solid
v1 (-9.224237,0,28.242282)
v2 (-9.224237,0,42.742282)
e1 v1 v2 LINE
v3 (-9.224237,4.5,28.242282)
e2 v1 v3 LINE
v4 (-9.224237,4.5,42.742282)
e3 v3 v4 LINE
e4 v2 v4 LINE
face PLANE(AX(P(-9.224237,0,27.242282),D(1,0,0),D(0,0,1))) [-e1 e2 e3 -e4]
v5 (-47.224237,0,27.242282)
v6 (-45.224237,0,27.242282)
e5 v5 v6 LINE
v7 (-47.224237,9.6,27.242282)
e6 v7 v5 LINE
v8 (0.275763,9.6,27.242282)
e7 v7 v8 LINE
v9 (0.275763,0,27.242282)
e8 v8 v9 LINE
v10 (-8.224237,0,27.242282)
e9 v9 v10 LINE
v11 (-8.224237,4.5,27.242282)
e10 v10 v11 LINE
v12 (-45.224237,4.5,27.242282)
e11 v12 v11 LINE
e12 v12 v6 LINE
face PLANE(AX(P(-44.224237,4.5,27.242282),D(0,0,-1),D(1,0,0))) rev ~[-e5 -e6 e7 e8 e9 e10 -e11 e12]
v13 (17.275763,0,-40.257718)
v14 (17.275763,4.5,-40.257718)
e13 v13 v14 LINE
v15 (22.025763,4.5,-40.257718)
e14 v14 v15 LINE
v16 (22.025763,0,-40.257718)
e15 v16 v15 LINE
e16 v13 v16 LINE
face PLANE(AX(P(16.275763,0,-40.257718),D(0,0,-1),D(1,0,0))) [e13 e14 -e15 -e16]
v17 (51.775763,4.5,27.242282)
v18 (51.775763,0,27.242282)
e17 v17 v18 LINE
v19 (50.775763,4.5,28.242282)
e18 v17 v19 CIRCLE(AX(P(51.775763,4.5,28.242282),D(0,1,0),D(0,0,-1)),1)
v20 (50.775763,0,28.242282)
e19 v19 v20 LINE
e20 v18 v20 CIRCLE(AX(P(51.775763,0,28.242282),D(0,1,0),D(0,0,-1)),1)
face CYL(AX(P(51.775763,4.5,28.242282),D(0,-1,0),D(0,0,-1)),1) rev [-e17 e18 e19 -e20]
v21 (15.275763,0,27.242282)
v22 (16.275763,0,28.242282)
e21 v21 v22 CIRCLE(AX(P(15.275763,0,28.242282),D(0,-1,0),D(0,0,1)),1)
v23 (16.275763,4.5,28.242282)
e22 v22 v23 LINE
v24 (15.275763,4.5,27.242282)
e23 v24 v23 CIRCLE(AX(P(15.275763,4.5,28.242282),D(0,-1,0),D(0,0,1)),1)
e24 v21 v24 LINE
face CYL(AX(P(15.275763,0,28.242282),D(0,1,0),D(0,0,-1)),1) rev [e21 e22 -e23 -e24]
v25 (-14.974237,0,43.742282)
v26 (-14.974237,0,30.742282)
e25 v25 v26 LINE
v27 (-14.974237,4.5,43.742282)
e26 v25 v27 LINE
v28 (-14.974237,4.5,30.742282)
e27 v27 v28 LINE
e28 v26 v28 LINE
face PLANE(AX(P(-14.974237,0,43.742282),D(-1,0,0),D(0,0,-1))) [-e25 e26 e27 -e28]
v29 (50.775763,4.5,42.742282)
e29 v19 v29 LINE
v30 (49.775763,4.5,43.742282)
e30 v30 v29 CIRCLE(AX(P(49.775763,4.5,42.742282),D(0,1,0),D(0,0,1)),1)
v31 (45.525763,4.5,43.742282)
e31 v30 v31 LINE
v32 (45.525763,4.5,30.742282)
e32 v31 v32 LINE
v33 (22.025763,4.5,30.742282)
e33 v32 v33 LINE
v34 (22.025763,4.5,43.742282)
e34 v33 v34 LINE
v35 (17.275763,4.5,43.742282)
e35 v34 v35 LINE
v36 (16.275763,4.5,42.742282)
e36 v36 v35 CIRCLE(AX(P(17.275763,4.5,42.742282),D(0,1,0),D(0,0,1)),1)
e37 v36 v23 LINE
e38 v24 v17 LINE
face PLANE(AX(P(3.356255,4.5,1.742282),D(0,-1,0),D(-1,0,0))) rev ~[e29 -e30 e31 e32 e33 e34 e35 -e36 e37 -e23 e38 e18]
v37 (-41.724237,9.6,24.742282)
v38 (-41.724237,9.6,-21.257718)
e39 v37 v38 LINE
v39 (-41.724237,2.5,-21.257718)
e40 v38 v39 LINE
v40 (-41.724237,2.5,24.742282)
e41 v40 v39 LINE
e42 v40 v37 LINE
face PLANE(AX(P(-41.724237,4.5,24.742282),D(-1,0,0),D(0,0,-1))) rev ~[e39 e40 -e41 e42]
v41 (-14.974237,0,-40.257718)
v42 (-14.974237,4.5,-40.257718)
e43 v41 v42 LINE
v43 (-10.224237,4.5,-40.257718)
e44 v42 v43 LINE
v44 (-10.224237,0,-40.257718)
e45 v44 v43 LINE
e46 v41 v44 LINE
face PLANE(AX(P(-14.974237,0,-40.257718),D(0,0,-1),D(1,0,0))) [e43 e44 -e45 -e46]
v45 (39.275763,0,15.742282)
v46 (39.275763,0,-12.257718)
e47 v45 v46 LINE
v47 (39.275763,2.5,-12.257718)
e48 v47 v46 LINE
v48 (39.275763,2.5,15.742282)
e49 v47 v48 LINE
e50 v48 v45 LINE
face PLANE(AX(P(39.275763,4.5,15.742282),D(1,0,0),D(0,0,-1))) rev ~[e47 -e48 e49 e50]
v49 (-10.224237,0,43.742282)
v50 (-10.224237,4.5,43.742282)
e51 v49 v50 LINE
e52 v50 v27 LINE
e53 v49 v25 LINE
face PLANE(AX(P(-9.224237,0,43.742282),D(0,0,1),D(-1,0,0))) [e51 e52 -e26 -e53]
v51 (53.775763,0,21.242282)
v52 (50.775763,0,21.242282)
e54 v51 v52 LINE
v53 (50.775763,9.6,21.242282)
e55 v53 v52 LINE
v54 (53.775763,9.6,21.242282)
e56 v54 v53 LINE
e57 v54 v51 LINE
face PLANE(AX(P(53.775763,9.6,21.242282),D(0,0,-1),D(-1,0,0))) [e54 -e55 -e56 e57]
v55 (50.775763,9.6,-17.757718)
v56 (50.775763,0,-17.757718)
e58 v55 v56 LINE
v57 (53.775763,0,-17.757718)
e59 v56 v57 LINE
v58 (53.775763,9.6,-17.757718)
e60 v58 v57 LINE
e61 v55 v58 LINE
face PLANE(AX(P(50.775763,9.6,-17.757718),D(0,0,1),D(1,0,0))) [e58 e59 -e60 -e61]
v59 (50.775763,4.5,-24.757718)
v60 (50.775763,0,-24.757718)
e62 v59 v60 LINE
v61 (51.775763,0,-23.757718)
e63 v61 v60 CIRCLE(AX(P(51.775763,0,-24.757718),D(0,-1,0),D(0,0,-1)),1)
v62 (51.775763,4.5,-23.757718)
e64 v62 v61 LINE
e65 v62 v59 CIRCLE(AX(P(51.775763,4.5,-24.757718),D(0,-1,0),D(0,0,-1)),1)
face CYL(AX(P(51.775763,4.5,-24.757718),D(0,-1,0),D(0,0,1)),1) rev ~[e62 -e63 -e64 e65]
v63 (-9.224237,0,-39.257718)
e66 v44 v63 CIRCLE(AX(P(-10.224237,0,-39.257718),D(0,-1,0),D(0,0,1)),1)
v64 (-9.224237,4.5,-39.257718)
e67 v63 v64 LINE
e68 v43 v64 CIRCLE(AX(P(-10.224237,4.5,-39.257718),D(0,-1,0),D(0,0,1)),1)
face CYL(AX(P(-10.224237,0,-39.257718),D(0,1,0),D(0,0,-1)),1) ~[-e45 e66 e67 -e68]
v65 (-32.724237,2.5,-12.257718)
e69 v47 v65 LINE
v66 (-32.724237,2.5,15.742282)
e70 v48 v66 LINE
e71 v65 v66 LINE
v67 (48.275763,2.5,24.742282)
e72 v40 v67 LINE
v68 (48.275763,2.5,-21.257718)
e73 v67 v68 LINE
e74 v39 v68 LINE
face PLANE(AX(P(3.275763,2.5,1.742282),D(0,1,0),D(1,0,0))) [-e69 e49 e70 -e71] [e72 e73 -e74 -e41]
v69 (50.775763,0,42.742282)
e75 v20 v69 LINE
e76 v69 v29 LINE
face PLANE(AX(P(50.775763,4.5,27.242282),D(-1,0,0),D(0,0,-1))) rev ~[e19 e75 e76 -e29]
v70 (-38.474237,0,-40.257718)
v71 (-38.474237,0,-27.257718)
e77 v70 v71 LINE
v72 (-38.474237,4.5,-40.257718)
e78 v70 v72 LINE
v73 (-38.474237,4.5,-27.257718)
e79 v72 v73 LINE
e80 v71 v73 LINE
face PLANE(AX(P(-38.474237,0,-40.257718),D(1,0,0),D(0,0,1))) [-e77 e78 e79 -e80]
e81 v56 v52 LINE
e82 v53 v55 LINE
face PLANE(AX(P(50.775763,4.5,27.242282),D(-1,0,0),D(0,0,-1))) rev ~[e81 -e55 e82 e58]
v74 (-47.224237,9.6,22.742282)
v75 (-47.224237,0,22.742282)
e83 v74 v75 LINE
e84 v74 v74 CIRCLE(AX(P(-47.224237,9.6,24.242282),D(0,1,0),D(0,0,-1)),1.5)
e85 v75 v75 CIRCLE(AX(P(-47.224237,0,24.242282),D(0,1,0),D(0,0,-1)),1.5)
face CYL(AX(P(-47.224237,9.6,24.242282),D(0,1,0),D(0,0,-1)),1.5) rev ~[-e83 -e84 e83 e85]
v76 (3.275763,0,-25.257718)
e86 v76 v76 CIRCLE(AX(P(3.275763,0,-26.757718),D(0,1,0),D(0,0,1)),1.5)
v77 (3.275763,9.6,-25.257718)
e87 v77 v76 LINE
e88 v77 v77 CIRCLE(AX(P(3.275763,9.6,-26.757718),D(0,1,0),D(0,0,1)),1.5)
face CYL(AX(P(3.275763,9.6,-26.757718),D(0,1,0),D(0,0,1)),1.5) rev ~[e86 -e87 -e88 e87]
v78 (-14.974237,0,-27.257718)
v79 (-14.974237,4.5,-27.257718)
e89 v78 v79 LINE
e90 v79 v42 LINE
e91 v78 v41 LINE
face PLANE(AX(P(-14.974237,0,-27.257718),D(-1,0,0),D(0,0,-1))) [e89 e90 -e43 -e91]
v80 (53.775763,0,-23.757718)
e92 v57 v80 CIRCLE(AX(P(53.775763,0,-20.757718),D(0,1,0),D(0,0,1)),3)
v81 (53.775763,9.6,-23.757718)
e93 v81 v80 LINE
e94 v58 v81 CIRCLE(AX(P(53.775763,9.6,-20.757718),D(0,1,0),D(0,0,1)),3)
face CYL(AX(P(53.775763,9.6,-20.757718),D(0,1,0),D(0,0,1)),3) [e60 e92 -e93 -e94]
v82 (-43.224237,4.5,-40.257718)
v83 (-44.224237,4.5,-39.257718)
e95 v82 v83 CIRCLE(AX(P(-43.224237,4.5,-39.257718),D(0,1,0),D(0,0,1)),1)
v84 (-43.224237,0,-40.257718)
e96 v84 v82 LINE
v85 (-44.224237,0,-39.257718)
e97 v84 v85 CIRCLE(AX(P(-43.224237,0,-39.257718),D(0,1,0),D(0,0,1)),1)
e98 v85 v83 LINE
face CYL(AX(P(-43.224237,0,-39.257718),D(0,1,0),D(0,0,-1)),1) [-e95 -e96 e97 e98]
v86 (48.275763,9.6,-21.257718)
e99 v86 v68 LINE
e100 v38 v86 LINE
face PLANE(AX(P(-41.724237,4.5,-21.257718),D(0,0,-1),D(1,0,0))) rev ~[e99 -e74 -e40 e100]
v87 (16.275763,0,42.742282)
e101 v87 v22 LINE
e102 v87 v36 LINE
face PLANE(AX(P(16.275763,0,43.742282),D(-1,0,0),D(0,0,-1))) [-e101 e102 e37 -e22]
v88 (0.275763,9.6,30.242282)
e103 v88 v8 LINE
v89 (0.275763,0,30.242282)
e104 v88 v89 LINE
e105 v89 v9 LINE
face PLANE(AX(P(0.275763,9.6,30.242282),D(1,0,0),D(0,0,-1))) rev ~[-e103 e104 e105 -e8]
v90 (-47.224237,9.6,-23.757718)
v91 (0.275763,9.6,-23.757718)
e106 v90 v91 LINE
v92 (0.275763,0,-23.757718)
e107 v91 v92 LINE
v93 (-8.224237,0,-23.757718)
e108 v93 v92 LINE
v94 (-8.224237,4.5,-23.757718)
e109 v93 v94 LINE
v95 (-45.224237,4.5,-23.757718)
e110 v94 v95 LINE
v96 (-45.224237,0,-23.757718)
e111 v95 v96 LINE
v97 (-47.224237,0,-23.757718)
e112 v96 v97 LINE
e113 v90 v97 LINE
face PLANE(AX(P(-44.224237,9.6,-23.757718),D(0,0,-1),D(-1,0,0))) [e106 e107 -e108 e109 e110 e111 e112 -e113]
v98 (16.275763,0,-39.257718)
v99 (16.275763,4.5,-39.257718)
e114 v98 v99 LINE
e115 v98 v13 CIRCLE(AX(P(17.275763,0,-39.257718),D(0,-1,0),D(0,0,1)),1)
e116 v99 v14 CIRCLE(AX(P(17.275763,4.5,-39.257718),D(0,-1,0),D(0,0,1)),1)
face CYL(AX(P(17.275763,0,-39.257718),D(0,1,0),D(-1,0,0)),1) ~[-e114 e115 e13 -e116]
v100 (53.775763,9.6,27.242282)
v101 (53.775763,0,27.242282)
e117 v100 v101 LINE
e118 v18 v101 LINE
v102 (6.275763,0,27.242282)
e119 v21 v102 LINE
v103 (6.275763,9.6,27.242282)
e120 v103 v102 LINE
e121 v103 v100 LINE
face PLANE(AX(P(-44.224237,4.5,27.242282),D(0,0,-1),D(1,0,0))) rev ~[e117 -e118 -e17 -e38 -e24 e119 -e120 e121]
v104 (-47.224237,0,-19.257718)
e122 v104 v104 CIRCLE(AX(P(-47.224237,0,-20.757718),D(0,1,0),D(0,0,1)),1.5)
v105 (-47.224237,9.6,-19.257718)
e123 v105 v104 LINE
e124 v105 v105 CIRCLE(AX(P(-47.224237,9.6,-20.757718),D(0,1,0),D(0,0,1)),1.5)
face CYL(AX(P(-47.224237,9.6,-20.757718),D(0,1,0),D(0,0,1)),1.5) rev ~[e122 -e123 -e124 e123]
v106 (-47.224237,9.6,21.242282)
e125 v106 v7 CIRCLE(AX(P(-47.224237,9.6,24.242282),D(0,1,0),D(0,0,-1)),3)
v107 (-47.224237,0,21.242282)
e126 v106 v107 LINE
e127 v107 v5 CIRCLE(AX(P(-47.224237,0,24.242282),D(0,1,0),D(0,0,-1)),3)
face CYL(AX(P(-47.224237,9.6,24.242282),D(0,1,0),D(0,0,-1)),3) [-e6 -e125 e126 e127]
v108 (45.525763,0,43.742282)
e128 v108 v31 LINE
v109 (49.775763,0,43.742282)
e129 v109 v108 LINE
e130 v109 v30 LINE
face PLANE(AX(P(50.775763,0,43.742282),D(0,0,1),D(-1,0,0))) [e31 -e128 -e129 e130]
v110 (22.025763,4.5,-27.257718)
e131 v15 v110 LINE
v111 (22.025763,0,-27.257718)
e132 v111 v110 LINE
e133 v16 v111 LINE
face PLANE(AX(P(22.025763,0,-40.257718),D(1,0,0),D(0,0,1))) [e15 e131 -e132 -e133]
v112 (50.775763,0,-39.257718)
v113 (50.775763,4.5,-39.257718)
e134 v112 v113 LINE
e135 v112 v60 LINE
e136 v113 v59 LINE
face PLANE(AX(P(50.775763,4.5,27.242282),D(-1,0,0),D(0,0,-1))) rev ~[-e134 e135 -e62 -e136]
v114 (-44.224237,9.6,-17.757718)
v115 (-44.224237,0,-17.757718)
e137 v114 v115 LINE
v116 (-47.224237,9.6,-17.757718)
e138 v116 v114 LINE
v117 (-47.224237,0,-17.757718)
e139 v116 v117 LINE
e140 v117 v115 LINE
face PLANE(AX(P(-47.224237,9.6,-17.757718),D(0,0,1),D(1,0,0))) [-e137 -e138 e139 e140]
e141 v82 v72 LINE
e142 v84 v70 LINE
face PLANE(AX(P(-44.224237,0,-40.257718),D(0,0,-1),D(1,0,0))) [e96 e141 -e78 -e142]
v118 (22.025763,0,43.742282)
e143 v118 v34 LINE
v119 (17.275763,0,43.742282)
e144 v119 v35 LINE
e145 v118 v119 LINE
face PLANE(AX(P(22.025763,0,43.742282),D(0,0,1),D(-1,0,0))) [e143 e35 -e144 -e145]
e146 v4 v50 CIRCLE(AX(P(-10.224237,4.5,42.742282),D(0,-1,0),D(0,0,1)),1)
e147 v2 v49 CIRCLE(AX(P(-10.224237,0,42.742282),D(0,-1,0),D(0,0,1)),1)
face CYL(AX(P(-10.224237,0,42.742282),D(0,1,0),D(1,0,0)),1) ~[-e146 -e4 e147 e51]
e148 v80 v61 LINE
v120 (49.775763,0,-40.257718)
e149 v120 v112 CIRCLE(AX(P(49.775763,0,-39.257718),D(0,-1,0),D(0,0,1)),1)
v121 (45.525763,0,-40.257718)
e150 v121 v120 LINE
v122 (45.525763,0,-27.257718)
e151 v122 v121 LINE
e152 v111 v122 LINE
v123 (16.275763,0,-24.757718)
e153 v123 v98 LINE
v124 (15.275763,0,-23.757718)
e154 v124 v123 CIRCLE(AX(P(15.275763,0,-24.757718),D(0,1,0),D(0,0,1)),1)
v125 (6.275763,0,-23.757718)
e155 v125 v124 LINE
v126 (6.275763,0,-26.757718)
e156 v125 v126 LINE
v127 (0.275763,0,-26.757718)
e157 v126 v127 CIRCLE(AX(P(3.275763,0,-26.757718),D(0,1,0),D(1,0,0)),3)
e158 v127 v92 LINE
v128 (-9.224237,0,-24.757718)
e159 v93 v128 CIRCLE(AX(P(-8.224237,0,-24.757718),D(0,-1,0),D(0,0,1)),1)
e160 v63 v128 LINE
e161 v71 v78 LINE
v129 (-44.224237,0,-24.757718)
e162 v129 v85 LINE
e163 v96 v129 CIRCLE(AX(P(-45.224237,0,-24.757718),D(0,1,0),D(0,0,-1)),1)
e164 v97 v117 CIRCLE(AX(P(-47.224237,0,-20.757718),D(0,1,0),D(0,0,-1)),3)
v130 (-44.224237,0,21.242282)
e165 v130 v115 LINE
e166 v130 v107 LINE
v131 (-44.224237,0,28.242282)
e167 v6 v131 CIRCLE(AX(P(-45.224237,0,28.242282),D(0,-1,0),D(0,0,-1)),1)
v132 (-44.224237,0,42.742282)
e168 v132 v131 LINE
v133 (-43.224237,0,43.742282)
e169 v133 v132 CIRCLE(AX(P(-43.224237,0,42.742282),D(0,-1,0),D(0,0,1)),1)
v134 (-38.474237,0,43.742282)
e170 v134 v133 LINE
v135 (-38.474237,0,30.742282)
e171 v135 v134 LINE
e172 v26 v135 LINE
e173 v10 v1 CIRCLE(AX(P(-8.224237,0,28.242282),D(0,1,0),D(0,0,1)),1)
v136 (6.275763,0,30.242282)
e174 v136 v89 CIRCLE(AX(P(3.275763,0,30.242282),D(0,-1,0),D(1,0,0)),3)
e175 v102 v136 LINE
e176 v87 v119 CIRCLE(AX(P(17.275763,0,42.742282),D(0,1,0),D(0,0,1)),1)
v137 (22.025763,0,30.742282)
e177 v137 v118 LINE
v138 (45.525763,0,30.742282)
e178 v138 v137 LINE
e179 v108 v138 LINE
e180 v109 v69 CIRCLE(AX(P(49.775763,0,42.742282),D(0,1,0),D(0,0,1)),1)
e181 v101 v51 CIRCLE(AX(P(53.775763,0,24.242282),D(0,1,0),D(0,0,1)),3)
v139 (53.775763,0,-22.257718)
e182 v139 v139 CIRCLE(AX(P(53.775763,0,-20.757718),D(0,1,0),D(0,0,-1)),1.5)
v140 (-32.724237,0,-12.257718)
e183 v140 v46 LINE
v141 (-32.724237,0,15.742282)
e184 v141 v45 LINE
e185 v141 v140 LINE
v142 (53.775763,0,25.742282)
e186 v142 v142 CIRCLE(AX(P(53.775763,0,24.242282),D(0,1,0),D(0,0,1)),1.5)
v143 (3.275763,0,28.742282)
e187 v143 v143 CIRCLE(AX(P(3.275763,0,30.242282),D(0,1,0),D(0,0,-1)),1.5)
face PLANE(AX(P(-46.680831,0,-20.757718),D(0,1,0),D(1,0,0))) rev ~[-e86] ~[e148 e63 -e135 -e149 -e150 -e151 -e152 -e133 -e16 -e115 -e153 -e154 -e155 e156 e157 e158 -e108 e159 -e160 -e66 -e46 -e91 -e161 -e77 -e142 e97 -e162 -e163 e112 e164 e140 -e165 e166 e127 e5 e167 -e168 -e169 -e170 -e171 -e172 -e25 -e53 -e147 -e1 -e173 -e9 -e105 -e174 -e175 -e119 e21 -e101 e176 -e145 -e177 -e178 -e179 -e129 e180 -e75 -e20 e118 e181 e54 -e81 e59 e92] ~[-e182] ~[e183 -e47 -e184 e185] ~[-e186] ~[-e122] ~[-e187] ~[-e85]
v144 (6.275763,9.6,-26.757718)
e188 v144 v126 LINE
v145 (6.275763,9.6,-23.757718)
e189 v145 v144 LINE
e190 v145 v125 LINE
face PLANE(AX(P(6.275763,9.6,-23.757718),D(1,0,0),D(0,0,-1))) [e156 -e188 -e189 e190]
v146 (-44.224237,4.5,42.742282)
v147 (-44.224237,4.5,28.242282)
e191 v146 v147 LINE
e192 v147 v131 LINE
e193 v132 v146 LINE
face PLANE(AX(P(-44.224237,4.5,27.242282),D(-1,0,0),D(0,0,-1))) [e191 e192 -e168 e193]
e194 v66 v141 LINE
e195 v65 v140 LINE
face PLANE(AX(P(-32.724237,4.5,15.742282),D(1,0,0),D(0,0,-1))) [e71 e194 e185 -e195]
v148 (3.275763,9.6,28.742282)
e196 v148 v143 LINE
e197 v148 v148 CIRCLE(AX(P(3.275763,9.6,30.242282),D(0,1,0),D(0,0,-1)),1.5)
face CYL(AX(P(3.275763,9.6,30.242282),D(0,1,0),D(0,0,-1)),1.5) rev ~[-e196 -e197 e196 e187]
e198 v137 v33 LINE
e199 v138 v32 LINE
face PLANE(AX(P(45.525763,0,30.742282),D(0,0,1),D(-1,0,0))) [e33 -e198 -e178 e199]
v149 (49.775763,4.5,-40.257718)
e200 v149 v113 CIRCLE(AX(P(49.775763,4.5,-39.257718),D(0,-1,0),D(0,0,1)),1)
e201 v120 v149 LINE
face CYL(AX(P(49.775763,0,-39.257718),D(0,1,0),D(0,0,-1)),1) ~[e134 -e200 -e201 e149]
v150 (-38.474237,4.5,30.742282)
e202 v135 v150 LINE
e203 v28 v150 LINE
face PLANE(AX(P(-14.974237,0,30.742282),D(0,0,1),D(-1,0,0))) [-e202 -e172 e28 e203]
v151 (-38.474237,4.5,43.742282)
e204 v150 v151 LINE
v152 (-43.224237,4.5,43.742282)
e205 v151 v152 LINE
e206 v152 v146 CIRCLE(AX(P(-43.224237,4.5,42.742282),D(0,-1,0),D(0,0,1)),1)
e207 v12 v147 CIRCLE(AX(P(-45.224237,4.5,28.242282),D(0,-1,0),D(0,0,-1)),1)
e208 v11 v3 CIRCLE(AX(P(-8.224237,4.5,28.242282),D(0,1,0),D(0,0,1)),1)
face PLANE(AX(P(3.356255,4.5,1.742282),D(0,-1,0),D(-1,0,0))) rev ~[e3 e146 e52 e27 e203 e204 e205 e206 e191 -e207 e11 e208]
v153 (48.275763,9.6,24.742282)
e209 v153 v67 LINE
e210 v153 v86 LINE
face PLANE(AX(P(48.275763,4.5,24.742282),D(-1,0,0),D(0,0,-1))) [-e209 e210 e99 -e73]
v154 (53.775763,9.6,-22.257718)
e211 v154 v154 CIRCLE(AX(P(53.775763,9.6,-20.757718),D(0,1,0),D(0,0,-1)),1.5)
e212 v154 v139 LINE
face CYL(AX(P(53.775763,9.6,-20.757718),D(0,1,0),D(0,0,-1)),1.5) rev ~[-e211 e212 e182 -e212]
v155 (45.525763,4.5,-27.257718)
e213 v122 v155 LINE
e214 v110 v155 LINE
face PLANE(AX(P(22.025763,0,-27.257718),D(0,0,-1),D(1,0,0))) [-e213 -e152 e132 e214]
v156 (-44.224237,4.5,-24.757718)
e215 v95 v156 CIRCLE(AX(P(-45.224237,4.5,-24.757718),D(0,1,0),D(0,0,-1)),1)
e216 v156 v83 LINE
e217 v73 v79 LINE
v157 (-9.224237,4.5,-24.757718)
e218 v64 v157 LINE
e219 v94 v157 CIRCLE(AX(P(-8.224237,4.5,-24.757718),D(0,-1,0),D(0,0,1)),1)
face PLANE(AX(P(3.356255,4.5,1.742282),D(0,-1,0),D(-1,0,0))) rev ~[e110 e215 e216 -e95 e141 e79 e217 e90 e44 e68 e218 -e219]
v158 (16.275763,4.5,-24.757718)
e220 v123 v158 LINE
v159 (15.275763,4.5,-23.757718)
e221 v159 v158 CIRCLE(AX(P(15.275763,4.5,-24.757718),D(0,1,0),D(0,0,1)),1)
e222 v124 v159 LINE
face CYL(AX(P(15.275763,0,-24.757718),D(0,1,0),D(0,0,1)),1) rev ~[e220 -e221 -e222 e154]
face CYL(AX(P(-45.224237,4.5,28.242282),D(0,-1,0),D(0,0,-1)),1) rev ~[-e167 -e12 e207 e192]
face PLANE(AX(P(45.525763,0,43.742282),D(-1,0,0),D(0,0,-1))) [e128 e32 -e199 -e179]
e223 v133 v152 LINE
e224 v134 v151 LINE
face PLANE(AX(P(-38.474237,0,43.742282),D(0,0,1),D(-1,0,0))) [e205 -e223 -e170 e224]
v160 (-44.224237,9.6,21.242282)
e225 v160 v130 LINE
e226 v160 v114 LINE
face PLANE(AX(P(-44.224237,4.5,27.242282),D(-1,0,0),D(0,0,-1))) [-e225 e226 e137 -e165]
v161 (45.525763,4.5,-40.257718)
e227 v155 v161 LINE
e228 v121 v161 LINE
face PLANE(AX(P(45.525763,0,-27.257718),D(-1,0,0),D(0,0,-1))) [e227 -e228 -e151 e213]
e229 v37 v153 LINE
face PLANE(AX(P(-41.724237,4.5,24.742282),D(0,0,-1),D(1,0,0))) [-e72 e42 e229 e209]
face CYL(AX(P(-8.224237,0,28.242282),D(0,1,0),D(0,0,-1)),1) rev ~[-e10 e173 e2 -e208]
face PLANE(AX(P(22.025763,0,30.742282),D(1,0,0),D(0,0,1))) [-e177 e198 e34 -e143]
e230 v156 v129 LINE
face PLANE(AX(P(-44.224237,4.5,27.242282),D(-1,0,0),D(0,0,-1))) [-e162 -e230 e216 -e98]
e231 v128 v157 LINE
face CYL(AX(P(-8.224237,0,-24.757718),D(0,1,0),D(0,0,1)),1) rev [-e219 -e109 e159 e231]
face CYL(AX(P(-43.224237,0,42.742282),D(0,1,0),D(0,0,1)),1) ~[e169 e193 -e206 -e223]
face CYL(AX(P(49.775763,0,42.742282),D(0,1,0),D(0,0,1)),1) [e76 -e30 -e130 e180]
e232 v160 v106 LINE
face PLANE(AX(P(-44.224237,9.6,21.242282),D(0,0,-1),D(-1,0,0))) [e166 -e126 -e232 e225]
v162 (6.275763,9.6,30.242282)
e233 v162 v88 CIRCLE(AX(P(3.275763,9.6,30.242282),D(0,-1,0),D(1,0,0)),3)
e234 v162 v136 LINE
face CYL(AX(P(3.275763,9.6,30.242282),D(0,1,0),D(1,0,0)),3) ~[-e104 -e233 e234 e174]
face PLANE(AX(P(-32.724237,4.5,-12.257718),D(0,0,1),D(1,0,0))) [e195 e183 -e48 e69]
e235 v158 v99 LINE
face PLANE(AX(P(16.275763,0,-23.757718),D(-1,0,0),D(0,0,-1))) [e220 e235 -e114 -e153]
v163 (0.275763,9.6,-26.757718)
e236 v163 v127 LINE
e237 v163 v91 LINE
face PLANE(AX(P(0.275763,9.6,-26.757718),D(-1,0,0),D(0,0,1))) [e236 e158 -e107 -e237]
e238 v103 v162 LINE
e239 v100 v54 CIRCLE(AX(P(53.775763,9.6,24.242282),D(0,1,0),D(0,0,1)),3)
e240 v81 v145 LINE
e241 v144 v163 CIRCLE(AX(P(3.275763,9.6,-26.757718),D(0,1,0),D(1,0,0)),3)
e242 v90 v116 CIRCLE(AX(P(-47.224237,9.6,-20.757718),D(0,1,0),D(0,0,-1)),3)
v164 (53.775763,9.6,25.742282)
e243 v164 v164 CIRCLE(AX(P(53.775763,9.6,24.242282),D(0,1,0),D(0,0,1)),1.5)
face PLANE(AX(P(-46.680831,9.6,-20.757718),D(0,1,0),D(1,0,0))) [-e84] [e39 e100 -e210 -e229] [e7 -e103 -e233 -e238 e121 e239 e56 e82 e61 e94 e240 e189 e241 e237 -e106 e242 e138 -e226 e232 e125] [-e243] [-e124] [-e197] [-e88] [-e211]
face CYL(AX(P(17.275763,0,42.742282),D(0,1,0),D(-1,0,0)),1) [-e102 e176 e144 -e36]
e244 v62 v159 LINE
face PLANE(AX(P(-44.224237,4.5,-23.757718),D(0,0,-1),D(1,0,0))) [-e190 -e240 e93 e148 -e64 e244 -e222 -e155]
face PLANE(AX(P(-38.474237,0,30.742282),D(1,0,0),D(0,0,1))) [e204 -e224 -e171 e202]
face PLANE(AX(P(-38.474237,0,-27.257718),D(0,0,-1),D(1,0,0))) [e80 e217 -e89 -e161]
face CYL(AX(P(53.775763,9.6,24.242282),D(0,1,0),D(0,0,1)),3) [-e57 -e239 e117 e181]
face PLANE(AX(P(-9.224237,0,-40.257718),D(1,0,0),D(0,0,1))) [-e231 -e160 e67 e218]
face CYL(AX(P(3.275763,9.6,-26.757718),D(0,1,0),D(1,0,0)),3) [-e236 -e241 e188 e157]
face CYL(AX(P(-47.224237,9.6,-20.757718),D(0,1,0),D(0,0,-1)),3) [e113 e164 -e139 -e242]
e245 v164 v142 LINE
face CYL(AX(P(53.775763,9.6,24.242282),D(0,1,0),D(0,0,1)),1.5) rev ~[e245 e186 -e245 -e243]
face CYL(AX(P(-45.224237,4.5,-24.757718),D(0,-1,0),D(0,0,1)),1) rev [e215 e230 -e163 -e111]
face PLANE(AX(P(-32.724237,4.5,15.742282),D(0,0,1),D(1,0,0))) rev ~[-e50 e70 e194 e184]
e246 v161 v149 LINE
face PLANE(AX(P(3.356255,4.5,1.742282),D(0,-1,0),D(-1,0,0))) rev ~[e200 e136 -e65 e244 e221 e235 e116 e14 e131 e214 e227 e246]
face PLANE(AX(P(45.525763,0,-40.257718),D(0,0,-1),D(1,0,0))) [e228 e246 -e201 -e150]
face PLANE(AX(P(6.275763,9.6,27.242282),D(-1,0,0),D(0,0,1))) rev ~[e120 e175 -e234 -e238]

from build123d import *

# Parameters (mm, degrees)
BOSS_EXTRUDE1_DEPTH = 4.5
SKETCH2_W           = 72
SKETCH2_H           = 28
CUT_EXTRUDE1_DEPTH  = 4.5
SKETCH3_W           = 95
SKETCH3_H           = 51
SKETCH3_W_2         = 90
SKETCH3_H_2         = 46
BOSS_EXTRUDE2_DEPTH = 5.1
SKETCH4_W           = 90
SKETCH4_H           = 46
CUT_EXTRUDE2_DEPTH  = 2
SKETCH6_R           = 1.5
BOSS_EXTRUDE3_DEPTH = 9.6
FILLET1_R           = 1


with BuildPart() as part:
    # Sketch1 → Boss-Extrude1 (new body)
    with BuildSketch(Plane(origin=(0, 0, 0), x_dir=(1, 0, 0), z_dir=(0, 1, 0))):
        Polygon((-14.974237314, -43.742281537), (-14.974237314, -30.742281537), (-38.474237314, -30.742281537), (-38.474237314, -43.742281537), (-44.224237314, -43.742281537), (-44.224237314, 40.257718463), (-38.474237314, 40.257718463), (-38.474237314, 27.257718463), (-14.974237314, 27.257718463), (-14.974237314, 40.257718463), (-9.224237314, 40.257718463), (-9.224237314, 23.757718463), (16.275762686, 23.757718463), (16.275762686, 40.257718463), (22.025762686, 40.257718463), (22.025762686, 27.257718463), (45.525762686, 27.257718463), (45.525762686, 40.257718463), (50.775762686, 40.257718463), (50.775762686, -43.742281537), (45.525762686, -43.742281537), (45.525762686, -30.742281537), (22.025762686, -30.742281537), (22.025762686, -43.742281537), (16.275762686, -43.742281537), (16.275762686, -27.242281537), (-9.224237314, -27.242281537), (-9.224237314, -43.742281537), align=None)
    extrude(amount=BOSS_EXTRUDE1_DEPTH)

    # Sketch2 → Cut-Extrude1 (cut)
    with BuildSketch(Plane(origin=(0, 4.5, 0), x_dir=(1, 0, 0), z_dir=(0, 1, 0))):
        with Locations((3.275762686, -1.742281537)):
            Rectangle(SKETCH2_W, SKETCH2_H)
    extrude(amount=-CUT_EXTRUDE1_DEPTH, mode=Mode.SUBTRACT)

    # Sketch3 → Boss-Extrude2 (add)
    with BuildSketch(Plane(origin=(0, 4.5, 0), x_dir=(1, 0, 0), z_dir=(0, 1, 0))):
        with Locations((3.275762686, -1.742281537)):
            Rectangle(SKETCH3_W, SKETCH3_H)
        with Locations((3.275762686, -1.742281537)):
            Rectangle(SKETCH3_W_2, SKETCH3_H_2, mode=Mode.SUBTRACT)
    extrude(amount=BOSS_EXTRUDE2_DEPTH)

    # Sketch4 → Cut-Extrude2 (cut)
    with BuildSketch(Plane(origin=(0, 4.5, 0), x_dir=(1, 0, 0), z_dir=(0, 1, 0))):
        with Locations((3.275762686, -1.742281537)):
            Rectangle(SKETCH4_W, SKETCH4_H)
    extrude(amount=-CUT_EXTRUDE2_DEPTH, mode=Mode.SUBTRACT)

    # Sketch6 → Boss-Extrude3 (add)
    # profile 1 of 6: a face of its own
    with BuildSketch(Plane(origin=(0, 9.6, 0), x_dir=(1, 0, 0), z_dir=(0, 1, 0))):
        with BuildLine():
            Line((-44.224237314, 23.757718463), (-47.224237314, 23.757718463))
            ThreePointArc((-47.224237314, 23.757718463), (-50.224237314, 20.757718463), (-47.224237314, 17.757718463))
            Line((-47.224237314, 17.757718463), (-44.224237314, 17.757718463))
            Line((-44.224237314, 17.757718463), (-44.224237314, 23.757718463))
        make_face()
        with Locations(Location((-47.224237314, 20.757718463, 0), (0, 0, 270))):
            Circle(SKETCH6_R, mode=Mode.SUBTRACT)
    # profile 2 of 6: a face of its own
    with BuildSketch(Plane(origin=(0, 9.6, 0), x_dir=(1, 0, 0), z_dir=(0, 1, 0))):
        with BuildLine():
            Line((50.775762686, 17.757718463), (53.775762686, 17.757718463))
            ThreePointArc((53.775762686, 17.757718463), (56.775762686, 20.757718463), (53.775762686, 23.757718463))
            Line((53.775762686, 23.757718463), (50.775762686, 23.757718463))
            Line((50.775762686, 23.757718463), (50.775762686, 17.757718463))
        make_face()
        with Locations(Location((53.775762686, 20.757718463, 0), (0, 0, 90))):
            Circle(SKETCH6_R, mode=Mode.SUBTRACT)
    # profile 3 of 6: a face of its own
    with BuildSketch(Plane(origin=(0, 9.6, 0), x_dir=(1, 0, 0), z_dir=(0, 1, 0))):
        with BuildLine():
            Line((50.775762686, -27.242281537), (53.775762686, -27.242281537))
            ThreePointArc((53.775762686, -27.242281537), (56.775762686, -24.242281537), (53.775762686, -21.242281537))
            Line((53.775762686, -21.242281537), (50.775762686, -21.242281537))
            Line((50.775762686, -21.242281537), (50.775762686, -27.242281537))
        make_face()
        with Locations(Location((53.775762686, -24.242281537, 0), (0, 0, 270))):
            Circle(SKETCH6_R, mode=Mode.SUBTRACT)
    # profile 4 of 6: a face of its own
    with BuildSketch(Plane(origin=(0, 9.6, 0), x_dir=(1, 0, 0), z_dir=(0, 1, 0))):
        with BuildLine():
            Line((-44.224237314, -21.242281537), (-47.224237314, -21.242281537))
            ThreePointArc((-47.224237314, -21.242281537), (-50.224237314, -24.242281537), (-47.224237314, -27.242281537))
            Line((-47.224237314, -27.242281537), (-44.224237314, -27.242281537))
            Line((-44.224237314, -27.242281537), (-44.224237314, -21.242281537))
        make_face()
        with Locations(Location((-47.224237314, -24.242281537, 0), (0, 0, 90))):
            Circle(SKETCH6_R, mode=Mode.SUBTRACT)
    # profile 5 of 6: a face of its own
    with BuildSketch(Plane(origin=(0, 9.6, 0), x_dir=(1, 0, 0), z_dir=(0, 1, 0))):
        with BuildLine():
            Line((6.275762686, -27.242281537), (6.275762686, -30.242281537))
            ThreePointArc((6.275762686, -30.242281537), (3.275762686, -33.242281537), (0.275762686, -30.242281537))
            Line((0.275762686, -30.242281537), (0.275762686, -27.242281537))
            Line((0.275762686, -27.242281537), (6.275762686, -27.242281537))
        make_face()
        with Locations(Location((3.275762686, -30.242281537, 0), (0, 0, 90))):
            Circle(SKETCH6_R, mode=Mode.SUBTRACT)
    # profile 6 of 6: a face of its own
    with BuildSketch(Plane(origin=(0, 9.6, 0), x_dir=(1, 0, 0), z_dir=(0, 1, 0))):
        with BuildLine():
            Line((0.275762686, 23.757718463), (6.275762686, 23.757718463))
            Line((6.275762686, 23.757718463), (6.275762686, 26.757718463))
            ThreePointArc((6.275762686, 26.757718463), (3.275762686, 29.757718463), (0.275762686, 26.757718463))
            Line((0.275762686, 26.757718463), (0.275762686, 23.757718463))
        make_face()
        with Locations(Location((3.275762686, 26.757718463, 0), (0, 0, 270))):
            Circle(SKETCH6_R, mode=Mode.SUBTRACT)
    extrude(amount=-BOSS_EXTRUDE3_DEPTH)

    # Fillet1
    fillet1_edges = [part.edges().sort_by_distance(p)[0] for p in [
        (-44.224237314, 2.25, -23.757718463),
        (50.775762686, 2.25, -23.757718463),
        (50.775762686, 2.25, 27.242281537),
        (-44.224237314, 2.25, 27.242281537),
        (-44.224237314, 2.25, 43.742281537),
        (-44.224237314, 2.25, -40.257718463),
        (-9.224237314, 2.25, -40.257718463),
        (-9.224237314, 2.25, -23.757718463),
        (16.275762686, 2.25, -23.757718463),
        (16.275762686, 2.25, -40.257718463),
        (50.775762686, 2.25, -40.257718463),
        (50.775762686, 2.25, 43.742281537),
        (16.275762686, 2.25, 43.742281537),
        (16.275762686, 2.25, 27.242281537),
        (-9.224237314, 2.25, 27.242281537),
        (-9.224237314, 2.25, 43.742281537),
    ]]
    fillet(fillet1_edges, radius=FILLET1_R)


solid = part.part
